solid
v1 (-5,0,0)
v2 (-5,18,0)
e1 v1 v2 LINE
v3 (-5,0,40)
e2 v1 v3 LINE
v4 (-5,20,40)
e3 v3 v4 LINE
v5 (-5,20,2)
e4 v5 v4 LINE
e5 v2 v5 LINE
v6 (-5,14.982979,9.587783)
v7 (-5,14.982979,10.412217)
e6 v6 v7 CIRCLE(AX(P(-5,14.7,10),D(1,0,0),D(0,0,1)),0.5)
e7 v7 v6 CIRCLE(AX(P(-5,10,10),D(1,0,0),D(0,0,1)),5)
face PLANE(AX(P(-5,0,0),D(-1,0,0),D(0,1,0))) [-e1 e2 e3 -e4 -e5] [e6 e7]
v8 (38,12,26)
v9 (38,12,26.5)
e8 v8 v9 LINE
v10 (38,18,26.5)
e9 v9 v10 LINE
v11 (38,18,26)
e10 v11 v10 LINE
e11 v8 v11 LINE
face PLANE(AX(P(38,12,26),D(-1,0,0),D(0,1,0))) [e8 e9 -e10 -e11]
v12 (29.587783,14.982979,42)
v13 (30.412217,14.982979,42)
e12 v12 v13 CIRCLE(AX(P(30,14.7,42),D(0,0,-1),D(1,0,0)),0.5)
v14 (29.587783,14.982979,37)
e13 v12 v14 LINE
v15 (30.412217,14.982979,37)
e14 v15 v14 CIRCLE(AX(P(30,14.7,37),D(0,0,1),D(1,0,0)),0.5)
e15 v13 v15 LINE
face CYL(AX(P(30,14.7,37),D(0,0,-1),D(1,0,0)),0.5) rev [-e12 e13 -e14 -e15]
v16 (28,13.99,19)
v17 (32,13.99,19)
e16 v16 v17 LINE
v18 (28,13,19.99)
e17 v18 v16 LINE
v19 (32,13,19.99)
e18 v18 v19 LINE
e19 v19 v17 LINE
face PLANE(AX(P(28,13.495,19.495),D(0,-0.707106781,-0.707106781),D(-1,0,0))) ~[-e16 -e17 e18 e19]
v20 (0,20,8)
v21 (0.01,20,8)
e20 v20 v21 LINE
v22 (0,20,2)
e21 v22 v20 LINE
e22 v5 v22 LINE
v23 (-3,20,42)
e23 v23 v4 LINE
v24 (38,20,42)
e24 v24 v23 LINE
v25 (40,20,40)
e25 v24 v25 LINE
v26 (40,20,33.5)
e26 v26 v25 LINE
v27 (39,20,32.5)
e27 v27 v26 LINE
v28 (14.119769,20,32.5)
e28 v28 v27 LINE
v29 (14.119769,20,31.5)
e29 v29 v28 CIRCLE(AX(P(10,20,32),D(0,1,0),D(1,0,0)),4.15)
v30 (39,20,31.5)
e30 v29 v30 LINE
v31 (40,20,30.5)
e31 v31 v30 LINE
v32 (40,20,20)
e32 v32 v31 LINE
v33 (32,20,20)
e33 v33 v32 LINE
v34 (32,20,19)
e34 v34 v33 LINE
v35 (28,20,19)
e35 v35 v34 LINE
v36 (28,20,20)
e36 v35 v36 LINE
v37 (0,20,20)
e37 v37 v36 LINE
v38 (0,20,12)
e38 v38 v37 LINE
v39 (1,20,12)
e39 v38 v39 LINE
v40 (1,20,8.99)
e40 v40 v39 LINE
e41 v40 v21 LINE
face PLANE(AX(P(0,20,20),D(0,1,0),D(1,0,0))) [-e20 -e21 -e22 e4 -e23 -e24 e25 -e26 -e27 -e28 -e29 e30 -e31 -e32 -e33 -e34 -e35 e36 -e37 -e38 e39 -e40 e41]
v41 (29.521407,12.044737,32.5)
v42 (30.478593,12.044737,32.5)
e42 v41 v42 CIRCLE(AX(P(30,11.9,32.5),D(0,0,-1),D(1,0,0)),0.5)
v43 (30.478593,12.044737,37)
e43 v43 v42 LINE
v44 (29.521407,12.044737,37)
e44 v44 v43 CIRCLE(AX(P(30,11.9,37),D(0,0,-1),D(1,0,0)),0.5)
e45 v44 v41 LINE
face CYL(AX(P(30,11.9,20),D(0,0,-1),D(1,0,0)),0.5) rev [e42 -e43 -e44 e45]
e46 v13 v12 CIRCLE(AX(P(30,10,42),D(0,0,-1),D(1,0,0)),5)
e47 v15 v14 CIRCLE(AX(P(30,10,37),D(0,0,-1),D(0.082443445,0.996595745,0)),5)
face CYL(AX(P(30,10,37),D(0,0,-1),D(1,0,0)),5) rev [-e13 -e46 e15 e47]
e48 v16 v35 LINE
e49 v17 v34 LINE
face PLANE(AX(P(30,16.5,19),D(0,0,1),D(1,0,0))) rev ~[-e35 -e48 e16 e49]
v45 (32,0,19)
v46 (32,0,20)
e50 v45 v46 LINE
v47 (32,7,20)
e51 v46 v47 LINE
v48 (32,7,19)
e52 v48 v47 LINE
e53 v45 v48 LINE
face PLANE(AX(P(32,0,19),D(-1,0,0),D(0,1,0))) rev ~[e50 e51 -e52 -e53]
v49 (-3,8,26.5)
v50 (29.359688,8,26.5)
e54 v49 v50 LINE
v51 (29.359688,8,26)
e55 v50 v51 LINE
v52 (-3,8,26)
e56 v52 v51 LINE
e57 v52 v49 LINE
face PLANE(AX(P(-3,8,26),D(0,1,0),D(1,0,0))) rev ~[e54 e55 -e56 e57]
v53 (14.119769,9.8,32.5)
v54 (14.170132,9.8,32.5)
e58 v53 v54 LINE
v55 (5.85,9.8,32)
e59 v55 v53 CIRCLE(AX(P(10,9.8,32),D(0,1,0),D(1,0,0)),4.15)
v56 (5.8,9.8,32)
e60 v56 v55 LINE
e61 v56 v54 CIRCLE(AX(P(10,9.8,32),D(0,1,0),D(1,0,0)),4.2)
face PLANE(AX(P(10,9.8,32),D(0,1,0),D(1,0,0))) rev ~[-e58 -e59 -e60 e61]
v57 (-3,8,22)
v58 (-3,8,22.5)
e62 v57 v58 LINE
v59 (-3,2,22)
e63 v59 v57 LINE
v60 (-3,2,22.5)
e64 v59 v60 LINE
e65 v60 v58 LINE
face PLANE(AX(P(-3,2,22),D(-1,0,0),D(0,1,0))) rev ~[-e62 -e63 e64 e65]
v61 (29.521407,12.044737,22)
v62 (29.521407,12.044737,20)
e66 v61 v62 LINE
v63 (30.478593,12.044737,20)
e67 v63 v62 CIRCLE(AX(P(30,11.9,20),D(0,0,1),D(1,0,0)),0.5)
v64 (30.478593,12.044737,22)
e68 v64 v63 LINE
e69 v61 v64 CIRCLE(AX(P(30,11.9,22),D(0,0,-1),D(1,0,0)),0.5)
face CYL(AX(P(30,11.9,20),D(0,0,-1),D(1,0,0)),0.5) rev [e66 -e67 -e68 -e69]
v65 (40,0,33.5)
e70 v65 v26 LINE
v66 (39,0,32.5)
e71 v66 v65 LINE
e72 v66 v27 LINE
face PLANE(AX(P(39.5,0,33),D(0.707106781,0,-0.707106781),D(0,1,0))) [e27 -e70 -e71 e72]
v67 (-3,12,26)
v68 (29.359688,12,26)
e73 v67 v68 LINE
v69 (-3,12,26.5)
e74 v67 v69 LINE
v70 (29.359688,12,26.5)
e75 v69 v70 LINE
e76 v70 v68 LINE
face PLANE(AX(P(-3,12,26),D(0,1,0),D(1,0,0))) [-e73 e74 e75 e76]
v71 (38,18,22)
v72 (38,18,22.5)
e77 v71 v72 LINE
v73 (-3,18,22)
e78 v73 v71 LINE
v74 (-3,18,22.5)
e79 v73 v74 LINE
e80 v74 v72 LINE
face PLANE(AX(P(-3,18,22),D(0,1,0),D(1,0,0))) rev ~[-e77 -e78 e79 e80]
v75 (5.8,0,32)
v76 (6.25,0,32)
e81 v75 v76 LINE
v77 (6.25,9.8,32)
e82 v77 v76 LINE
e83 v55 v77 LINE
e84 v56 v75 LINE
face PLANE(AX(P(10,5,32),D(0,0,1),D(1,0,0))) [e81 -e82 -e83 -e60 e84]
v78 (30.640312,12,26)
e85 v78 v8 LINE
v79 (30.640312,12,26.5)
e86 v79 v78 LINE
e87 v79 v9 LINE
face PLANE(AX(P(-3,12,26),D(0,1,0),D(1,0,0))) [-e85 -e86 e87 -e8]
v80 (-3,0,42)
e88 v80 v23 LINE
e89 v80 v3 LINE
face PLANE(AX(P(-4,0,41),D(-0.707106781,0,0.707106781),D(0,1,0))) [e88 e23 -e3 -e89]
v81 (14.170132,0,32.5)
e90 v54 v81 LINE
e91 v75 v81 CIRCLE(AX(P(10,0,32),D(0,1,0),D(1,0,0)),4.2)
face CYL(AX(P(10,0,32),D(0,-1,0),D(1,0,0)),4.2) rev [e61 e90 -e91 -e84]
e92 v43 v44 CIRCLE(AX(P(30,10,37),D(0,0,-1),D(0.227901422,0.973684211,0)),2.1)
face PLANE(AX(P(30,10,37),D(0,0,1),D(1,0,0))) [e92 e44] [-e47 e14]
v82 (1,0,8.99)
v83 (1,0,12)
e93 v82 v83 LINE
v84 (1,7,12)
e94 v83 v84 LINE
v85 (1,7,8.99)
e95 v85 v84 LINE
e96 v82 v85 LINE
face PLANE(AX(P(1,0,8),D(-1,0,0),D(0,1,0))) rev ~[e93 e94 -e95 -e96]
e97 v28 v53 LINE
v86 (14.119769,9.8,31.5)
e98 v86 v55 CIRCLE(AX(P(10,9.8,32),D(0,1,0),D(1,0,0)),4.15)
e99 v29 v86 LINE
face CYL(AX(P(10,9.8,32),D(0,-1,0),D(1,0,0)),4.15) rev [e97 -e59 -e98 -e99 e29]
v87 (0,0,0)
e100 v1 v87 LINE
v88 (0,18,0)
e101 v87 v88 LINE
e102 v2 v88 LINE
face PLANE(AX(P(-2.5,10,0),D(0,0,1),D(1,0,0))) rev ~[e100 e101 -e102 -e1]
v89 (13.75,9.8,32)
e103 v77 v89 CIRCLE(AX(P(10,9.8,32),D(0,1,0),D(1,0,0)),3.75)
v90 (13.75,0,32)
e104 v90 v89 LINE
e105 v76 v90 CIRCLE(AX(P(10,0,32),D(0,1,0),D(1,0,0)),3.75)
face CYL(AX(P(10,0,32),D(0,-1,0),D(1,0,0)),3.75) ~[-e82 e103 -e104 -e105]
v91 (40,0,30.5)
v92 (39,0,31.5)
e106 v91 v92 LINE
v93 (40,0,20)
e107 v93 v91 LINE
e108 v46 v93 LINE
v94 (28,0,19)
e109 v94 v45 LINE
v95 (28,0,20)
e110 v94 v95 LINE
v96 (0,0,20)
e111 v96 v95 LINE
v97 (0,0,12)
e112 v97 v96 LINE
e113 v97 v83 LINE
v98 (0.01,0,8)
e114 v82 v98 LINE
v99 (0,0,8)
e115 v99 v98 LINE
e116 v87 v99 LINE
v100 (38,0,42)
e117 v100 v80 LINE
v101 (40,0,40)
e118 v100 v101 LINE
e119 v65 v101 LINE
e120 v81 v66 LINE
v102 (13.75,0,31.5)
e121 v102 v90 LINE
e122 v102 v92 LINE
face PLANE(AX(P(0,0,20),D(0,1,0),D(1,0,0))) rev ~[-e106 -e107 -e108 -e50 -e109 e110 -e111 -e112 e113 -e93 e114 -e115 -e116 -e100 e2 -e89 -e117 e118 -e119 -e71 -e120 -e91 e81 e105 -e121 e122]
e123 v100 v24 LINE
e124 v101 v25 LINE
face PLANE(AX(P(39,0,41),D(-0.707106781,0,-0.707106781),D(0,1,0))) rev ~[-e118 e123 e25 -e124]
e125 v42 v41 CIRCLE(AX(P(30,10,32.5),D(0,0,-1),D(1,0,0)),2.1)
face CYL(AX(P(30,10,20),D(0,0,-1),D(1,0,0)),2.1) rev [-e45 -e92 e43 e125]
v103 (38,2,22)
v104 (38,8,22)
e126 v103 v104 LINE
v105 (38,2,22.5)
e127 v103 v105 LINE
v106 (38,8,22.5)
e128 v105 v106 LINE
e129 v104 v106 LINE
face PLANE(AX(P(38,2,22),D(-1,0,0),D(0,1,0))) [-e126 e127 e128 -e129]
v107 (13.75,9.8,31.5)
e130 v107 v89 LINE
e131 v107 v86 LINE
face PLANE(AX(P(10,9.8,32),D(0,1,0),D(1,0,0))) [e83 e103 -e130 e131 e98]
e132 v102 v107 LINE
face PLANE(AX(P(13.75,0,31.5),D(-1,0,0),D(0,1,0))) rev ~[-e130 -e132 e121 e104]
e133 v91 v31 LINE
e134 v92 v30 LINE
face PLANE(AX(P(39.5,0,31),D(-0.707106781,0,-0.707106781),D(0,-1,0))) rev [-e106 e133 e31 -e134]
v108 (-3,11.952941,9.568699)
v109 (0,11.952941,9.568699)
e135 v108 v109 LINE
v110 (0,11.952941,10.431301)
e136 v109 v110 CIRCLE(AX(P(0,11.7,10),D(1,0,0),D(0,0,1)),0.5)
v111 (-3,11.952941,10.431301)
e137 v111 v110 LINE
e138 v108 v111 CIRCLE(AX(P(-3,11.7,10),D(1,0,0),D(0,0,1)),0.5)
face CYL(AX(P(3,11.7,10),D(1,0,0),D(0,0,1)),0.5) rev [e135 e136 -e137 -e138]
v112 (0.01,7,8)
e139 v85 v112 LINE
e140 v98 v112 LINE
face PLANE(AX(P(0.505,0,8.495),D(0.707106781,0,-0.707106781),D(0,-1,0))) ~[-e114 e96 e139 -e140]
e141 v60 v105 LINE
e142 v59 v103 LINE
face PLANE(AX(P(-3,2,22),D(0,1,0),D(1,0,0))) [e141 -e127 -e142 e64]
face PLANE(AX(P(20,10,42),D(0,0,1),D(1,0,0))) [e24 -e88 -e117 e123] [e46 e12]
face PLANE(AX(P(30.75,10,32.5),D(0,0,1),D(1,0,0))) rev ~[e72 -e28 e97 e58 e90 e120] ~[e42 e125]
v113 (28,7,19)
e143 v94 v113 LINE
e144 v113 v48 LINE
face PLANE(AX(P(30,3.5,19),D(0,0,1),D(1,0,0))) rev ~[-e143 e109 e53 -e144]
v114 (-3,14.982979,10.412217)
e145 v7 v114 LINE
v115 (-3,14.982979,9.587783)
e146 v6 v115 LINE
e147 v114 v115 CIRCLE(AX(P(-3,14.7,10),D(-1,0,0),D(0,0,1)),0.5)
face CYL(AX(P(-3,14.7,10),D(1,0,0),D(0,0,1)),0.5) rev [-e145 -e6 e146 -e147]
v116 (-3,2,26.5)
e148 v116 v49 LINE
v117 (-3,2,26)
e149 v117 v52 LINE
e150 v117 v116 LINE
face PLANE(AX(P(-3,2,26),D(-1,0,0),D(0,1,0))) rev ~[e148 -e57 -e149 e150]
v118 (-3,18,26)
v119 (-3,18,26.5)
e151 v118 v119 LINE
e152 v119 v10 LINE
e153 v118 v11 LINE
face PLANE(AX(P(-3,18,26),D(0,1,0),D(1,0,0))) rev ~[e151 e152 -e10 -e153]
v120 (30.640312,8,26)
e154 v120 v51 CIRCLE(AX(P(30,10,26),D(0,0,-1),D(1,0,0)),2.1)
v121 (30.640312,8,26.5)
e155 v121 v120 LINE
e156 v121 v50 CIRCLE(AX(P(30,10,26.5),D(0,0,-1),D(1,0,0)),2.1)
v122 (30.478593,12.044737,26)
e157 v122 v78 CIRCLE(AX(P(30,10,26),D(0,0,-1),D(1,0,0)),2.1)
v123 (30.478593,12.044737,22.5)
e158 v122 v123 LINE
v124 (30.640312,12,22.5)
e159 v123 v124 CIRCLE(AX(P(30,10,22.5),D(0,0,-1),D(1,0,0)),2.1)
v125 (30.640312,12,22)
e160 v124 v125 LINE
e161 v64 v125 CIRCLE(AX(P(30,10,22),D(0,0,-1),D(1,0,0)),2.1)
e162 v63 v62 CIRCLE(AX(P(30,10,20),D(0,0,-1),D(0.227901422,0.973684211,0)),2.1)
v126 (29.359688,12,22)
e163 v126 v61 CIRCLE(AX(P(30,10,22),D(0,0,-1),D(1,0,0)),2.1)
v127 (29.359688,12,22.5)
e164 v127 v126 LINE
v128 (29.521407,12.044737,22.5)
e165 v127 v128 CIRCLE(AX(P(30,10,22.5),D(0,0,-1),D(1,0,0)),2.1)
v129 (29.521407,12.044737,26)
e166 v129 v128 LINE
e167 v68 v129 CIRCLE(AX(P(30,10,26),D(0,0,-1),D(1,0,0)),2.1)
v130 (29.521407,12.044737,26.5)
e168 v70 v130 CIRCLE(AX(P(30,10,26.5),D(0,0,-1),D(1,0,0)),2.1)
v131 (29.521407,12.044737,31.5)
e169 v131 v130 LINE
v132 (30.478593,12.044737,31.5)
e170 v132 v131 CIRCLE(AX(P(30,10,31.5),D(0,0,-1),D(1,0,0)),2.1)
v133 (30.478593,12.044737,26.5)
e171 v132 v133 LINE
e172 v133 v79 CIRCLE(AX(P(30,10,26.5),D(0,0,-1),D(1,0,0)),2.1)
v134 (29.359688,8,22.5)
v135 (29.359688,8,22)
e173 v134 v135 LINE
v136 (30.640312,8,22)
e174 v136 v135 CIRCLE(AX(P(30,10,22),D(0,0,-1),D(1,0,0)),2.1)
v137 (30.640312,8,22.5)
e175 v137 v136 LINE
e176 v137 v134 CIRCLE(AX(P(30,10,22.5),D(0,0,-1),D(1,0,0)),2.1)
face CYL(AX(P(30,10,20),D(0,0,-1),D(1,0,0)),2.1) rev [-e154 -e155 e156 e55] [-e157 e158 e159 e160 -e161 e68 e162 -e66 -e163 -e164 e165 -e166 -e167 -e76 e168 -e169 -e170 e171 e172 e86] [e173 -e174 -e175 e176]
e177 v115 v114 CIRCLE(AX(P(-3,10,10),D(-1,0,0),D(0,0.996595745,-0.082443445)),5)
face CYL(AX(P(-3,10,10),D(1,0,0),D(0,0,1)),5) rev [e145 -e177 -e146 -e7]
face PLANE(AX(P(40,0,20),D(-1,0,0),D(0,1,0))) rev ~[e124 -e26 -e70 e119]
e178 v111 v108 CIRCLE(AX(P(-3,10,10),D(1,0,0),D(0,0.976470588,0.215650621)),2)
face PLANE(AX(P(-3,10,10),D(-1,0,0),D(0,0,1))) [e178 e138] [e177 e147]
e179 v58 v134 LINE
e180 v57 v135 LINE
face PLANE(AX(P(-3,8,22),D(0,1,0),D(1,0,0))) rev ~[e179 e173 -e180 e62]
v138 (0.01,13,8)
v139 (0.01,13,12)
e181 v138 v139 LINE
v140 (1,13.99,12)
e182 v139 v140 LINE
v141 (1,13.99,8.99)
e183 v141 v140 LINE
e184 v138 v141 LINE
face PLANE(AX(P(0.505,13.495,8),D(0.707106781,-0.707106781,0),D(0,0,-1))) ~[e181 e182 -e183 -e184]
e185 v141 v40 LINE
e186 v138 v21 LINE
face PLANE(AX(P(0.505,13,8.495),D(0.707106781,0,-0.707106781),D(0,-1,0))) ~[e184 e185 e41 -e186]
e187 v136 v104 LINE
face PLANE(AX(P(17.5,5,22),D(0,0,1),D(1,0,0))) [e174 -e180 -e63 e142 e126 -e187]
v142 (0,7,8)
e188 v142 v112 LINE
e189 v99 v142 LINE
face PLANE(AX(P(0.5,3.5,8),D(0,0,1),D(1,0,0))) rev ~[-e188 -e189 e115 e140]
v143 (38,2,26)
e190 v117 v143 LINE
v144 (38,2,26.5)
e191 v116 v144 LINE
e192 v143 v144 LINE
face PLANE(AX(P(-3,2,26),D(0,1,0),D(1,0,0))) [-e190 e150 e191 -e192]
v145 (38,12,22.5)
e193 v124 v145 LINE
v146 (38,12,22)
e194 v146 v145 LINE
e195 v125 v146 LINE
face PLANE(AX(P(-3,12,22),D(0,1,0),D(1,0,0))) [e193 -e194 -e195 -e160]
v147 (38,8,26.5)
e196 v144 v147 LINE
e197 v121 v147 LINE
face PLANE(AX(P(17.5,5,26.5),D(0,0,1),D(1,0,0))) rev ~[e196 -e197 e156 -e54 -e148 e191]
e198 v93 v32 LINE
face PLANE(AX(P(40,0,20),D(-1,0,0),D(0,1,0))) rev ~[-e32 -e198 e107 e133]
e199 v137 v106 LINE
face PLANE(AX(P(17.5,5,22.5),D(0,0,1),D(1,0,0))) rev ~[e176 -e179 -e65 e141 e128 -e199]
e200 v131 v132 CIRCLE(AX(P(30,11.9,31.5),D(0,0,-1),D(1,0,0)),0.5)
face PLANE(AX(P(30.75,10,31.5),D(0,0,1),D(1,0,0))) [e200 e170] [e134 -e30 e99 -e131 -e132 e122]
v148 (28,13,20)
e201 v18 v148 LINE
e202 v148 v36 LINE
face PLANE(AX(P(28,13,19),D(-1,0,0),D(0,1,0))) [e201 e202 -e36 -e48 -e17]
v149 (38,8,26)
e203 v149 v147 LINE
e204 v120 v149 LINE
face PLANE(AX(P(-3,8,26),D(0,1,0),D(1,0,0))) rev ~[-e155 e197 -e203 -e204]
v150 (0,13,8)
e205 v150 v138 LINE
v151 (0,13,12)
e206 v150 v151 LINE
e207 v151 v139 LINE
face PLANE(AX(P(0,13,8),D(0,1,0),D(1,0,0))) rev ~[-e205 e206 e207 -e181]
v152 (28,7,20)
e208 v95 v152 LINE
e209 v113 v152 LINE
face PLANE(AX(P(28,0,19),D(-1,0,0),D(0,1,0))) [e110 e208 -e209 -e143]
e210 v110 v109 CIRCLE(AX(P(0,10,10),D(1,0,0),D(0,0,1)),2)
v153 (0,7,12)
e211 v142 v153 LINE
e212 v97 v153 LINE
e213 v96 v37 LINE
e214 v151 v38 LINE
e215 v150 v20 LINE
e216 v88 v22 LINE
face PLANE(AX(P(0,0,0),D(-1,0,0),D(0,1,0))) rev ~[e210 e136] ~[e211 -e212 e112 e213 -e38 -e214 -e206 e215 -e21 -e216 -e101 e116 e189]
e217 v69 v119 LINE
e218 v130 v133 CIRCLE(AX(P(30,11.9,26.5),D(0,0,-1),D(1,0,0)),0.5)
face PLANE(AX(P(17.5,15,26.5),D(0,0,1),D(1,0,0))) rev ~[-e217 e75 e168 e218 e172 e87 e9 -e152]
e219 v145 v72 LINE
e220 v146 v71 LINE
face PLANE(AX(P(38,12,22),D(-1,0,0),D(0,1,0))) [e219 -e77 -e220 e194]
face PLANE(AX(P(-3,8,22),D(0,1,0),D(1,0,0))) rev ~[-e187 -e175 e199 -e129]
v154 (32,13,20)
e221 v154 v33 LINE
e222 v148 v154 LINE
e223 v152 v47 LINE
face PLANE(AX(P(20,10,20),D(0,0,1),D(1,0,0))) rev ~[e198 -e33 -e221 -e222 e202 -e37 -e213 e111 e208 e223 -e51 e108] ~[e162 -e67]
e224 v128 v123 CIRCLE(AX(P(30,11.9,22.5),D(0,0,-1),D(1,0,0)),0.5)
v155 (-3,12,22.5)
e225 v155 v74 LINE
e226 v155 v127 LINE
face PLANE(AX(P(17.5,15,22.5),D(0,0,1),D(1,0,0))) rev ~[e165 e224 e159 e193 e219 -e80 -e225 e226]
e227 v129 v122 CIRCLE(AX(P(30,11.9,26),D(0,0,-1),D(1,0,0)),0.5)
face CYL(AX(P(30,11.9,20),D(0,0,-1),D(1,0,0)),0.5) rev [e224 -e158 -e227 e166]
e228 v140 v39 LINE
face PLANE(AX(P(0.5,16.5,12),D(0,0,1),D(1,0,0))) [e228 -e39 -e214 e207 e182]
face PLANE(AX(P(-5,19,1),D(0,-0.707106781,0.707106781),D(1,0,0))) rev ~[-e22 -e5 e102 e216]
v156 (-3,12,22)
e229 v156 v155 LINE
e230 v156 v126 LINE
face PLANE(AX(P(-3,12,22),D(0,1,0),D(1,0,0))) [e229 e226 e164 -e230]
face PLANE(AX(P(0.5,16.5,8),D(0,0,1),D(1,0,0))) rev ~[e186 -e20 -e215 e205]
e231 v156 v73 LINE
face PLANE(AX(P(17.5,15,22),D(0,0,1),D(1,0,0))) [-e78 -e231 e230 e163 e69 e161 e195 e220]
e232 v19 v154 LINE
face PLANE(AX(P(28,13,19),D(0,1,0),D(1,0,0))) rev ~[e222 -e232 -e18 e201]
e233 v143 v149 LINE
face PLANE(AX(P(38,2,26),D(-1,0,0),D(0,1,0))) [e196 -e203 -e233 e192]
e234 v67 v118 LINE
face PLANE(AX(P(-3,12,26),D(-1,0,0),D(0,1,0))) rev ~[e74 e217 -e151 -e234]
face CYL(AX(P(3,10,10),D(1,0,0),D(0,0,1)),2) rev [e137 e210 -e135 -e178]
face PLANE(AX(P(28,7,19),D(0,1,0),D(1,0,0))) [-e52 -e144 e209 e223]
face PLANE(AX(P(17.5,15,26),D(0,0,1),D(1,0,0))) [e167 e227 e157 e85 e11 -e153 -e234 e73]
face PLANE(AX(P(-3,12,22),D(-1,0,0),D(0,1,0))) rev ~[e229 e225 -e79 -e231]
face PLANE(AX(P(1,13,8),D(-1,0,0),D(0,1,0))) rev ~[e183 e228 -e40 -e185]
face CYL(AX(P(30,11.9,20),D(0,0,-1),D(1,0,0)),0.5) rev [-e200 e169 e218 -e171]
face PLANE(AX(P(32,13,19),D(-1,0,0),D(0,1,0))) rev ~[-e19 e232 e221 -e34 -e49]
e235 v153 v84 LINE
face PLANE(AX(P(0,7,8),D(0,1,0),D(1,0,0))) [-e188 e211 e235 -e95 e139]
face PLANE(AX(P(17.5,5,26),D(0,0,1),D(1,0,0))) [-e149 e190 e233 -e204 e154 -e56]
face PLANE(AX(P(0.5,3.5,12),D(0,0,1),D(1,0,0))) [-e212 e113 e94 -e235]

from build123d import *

# Parameters (mm, degrees)
BOX012_W          = 41
BOX012_H          = 6
BOX012_DEPTH      = 0.5
BOX015_W          = 41
BOX015_H          = 6
BOX015_DEPTH      = 0.5
BOX013_W          = 41
BOX013_H          = 6
BOX013_DEPTH      = 0.5
BOX010_W          = 41
BOX010_H          = 6
BOX010_DEPTH      = 0.5
BOX008_W          = 1
BOX008_H          = 7
BOX008_DEPTH      = 4
CHAMFER002_SIZE   = 0.99
BOX006_W          = 4
BOX006_H          = 7
BOX006_DEPTH      = 1
BOX007_W          = 4
BOX007_H          = 7
BOX007_DEPTH      = 1
CHAMFER_SIZE      = 0.99
BOX005_W          = 1
BOX005_H          = 7
BOX005_DEPTH      = 4
CHAMFER007_SIZE   = 0.99
CYLINDER007_R     = 0.5
CYLINDER007_DEPTH = 4
CYLINDER008_R     = 5
CYLINDER008_DEPTH = 4
CYLINDER009_R     = 2
CYLINDER009_DEPTH = 10
CYLINDER006_R     = 0.5
CYLINDER006_DEPTH = 10
CYLINDER002_R     = 2.1
CYLINDER002_DEPTH = 22
CYLINDER005_R     = 0.5
CYLINDER005_DEPTH = 10
CYLINDER004_R     = 0.5
CYLINDER004_DEPTH = 22
CYLINDER003_R     = 5
CYLINDER003_DEPTH = 10
BOX004_W          = 34
BOX004_H          = 20
BOX004_DEPTH      = 1
BOX009_W          = 10
BOX009_H          = 10
BOX009_DEPTH      = 10
CYLINDER011_R     = 3.75
CYLINDER011_DEPTH = 9.8
CYLINDER010_R     = 4.2
CYLINDER010_DEPTH = 9.8
CYLINDER001_R     = 4.15
CYLINDER001_DEPTH = 10.2
BOX001_W          = 40
BOX001_H          = 20
BOX001_DEPTH      = 22
BOX002_W          = 5
BOX002_H          = 20
BOX002_DEPTH      = 42
CHAMFER003_SIZE   = 1
CHAMFER004_SIZE   = 2
CHAMFER005_SIZE   = 2
CHAMFER006_SIZE   = 2


with BuildPart() as cube011:
    # Box012 → Box012 (new body)
    with BuildSketch(Plane(origin=(-3, 2, 26), x_dir=(1, 0, 0), z_dir=(0, 0, 1))):
        with Locations((20.5, 3)):
            Rectangle(BOX012_W, BOX012_H)
    extrude(amount=BOX012_DEPTH)


with BuildPart() as cube014:
    # Box015 → Box015 (new body)
    with BuildSketch(Plane(origin=(-3, 12, 26), x_dir=(1, 0, 0), z_dir=(0, 0, 1))):
        with Locations((20.5, 3)):
            Rectangle(BOX015_W, BOX015_H)
    extrude(amount=BOX015_DEPTH)


with BuildPart() as cube012:
    # Box013 → Box013 (new body)
    with BuildSketch(Plane(origin=(-3, 12, 22), x_dir=(1, 0, 0), z_dir=(0, 0, 1))):
        with Locations((20.5, 3)):
            Rectangle(BOX013_W, BOX013_H)
    extrude(amount=BOX013_DEPTH)


with BuildPart() as fusion006:
    # Box010 → Box010 (new body)
    with BuildSketch(Plane(origin=(-3, 2, 22), x_dir=(1, 0, 0), z_dir=(0, 0, 1))):
        with Locations((20.5, 3)):
            Rectangle(BOX010_W, BOX010_H)
    extrude(amount=BOX010_DEPTH)

    # Fusion006: union Cube011, Cube014, Cube012
    add(cube011.part)
    add(cube014.part)
    add(cube012.part)


with BuildPart() as chamfer002:
    # Box008 → Box008 (new body)
    with BuildSketch(Plane(origin=(0, 13, 8), x_dir=(1, 0, 0), z_dir=(0, 0, 1))):
        with Locations((0.5, 3.5)):
            Rectangle(BOX008_W, BOX008_H)
    extrude(amount=BOX008_DEPTH)

    # Chamfer002
    chamfer002_edges = [chamfer002.edges().sort_by_distance(p)[0] for p in [
        (1, 13, 10),
        (1, 16.5, 8),
    ]]
    chamfer(chamfer002_edges, length=CHAMFER002_SIZE)


with BuildPart() as cube005:
    # Box006 → Box006 (new body)
    with BuildSketch(Plane(origin=(28, 0, 19), x_dir=(1, 0, 0), z_dir=(0, 0, 1))):
        with Locations((2, 3.5)):
            Rectangle(BOX006_W, BOX006_H)
    extrude(amount=BOX006_DEPTH)


with BuildPart() as chamfer_body:
    # Box007 → Box007 (new body)
    with BuildSketch(Plane(origin=(28, 13, 19), x_dir=(1, 0, 0), z_dir=(0, 0, 1))):
        with Locations((2, 3.5)):
            Rectangle(BOX007_W, BOX007_H)
    extrude(amount=BOX007_DEPTH)

    # Chamfer
    chamfer_edges = [chamfer_body.edges().sort_by_distance(p)[0] for p in [
        (30, 13, 19),
    ]]
    chamfer(chamfer_edges, length=CHAMFER_SIZE)


with BuildPart() as fusion004:
    # Box005 → Box005 (new body)
    with BuildSketch(Plane.XY.offset(8)):
        with Locations((0.5, 3.5)):
            Rectangle(BOX005_W, BOX005_H)
    extrude(amount=BOX005_DEPTH)

    # Chamfer007
    chamfer007_edges = [fusion004.edges().sort_by_distance(p)[0] for p in [
        (1, 3.5, 8),
    ]]
    chamfer(chamfer007_edges, length=CHAMFER007_SIZE)

    # Fusion004: union Chamfer002, Cube005, Chamfer body
    add(chamfer002.part)
    add(cube005.part)
    add(chamfer_body.part)


with BuildPart() as cylinder005:
    # Cylinder007 → Cylinder007 (new body)
    with BuildSketch(Plane(origin=(-3, 14.7, 10), x_dir=(0, 0, 1), z_dir=(-1, 0, 0))):
        Circle(CYLINDER007_R)
    extrude(amount=CYLINDER007_DEPTH)


with BuildPart() as cylinder006:
    # Cylinder008 → Cylinder008 (new body)
    with BuildSketch(Plane(origin=(-3, 10, 10), x_dir=(0, 0, 1), z_dir=(-1, 0, 0))):
        Circle(CYLINDER008_R)
    extrude(amount=CYLINDER008_DEPTH)


with BuildPart() as cylinder007:
    # Cylinder009 → Cylinder009 (new body)
    with BuildSketch(Plane(origin=(3, 10, 10), x_dir=(0, 0, 1), z_dir=(-1, 0, 0))):
        Circle(CYLINDER009_R)
    extrude(amount=CYLINDER009_DEPTH)


with BuildPart() as fusion002:
    # Cylinder006 → Cylinder006 (new body)
    with BuildSketch(Plane(origin=(3, 11.7, 10), x_dir=(0, 0, 1), z_dir=(-1, 0, 0))):
        Circle(CYLINDER006_R)
    extrude(amount=CYLINDER006_DEPTH)

    # Fusion002: union Cylinder005, Cylinder006, Cylinder007
    add(cylinder005.part)
    add(cylinder006.part)
    add(cylinder007.part)


with BuildPart() as cylinder:
    # Cylinder002 → Cylinder002 (new body)
    with BuildSketch(Plane(origin=(30, 10, 20), x_dir=(1, 0, 0), z_dir=(0, 0, 1))):
        Circle(CYLINDER002_R)
    extrude(amount=CYLINDER002_DEPTH)


with BuildPart() as cylinder003:
    # Cylinder005 → Cylinder005 (new body)
    with BuildSketch(Plane(origin=(30, 14.7, 37), x_dir=(1, 0, 0), z_dir=(0, 0, 1))):
        Circle(CYLINDER005_R)
    extrude(amount=CYLINDER005_DEPTH)


with BuildPart() as cylinder002:
    # Cylinder004 → Cylinder004 (new body)
    with BuildSketch(Plane(origin=(30, 11.9, 20), x_dir=(1, 0, 0), z_dir=(0, 0, 1))):
        Circle(CYLINDER004_R)
    extrude(amount=CYLINDER004_DEPTH)


with BuildPart() as fusion003:
    # Cylinder003 → Cylinder003 (new body)
    with BuildSketch(Plane(origin=(30, 10, 37), x_dir=(1, 0, 0), z_dir=(0, 0, 1))):
        Circle(CYLINDER003_R)
    extrude(amount=CYLINDER003_DEPTH)

    # Fusion003: union Cylinder, Cylinder003, Cylinder002
    add(cylinder.part)
    add(cylinder003.part)
    add(cylinder002.part)


with BuildPart() as cube003:
    # Box004 → Box004 (new body)
    with BuildSketch(Plane(origin=(13.75, 0, 31.5), x_dir=(1, 0, 0), z_dir=(0, 0, 1))):
        with Locations((17, 10)):
            Rectangle(BOX004_W, BOX004_H)
    extrude(amount=BOX004_DEPTH)


with BuildPart() as cube008:
    # Box009 → Box009 (new body)
    with BuildSketch(Plane(origin=(5, 0, 22), x_dir=(1, 0, 0), z_dir=(0, 0, 1))):
        with Locations((5, 5)):
            Rectangle(BOX009_W, BOX009_H)
    extrude(amount=BOX009_DEPTH)


with BuildPart() as cylinder009:
    # Cylinder011 → Cylinder011 (new body)
    with BuildSketch(Plane(origin=(10, 0, 32), x_dir=(1, 0, 0), z_dir=(0, 1, 0))):
        Circle(CYLINDER011_R)
    extrude(amount=CYLINDER011_DEPTH)


with BuildPart() as cut001:
    # Cylinder010 → Cylinder010 (new body)
    with BuildSketch(Plane(origin=(10, 0, 32), x_dir=(1, 0, 0), z_dir=(0, 1, 0))):
        Circle(CYLINDER010_R)
    extrude(amount=CYLINDER010_DEPTH)

    # Cut: cut Cylinder009
    add(cylinder009.part, mode=Mode.SUBTRACT)

    # Cut001: cut Cube008
    add(cube008.part, mode=Mode.SUBTRACT)


with BuildPart() as slot:
    # Cylinder001 → Cylinder001 (new body)
    with BuildSketch(Plane(origin=(10, 9.8, 32), x_dir=(1, 0, 0), z_dir=(0, 1, 0))):
        Circle(CYLINDER001_R)
    extrude(amount=CYLINDER001_DEPTH)


with BuildPart() as cube:
    # Box001 → Box001 (new body)
    with BuildSketch(Plane.XY.offset(20)):
        with Locations((20, 10)):
            Rectangle(BOX001_W, BOX001_H)
    extrude(amount=BOX001_DEPTH)


with BuildPart() as cut007:
    # Box002 → Box002 (new body)
    with BuildSketch(Plane(origin=(-5, 0, 0), x_dir=(1, 0, 0), z_dir=(0, 0, 1))):
        with Locations((2.5, 10)):
            Rectangle(BOX002_W, BOX002_H)
    extrude(amount=BOX002_DEPTH)

    # Fusion: union Cube
    add(cube.part)

    # Cut002: cut slot
    add(slot.part, mode=Mode.SUBTRACT)

    # Cut003: cut Cut001
    add(cut001.part, mode=Mode.SUBTRACT)

    # Cut004: cut Cube003
    add(cube003.part, mode=Mode.SUBTRACT)

    # Cut005: cut Fusion003
    add(fusion003.part, mode=Mode.SUBTRACT)

    # Cut006: cut Fusion002
    add(fusion002.part, mode=Mode.SUBTRACT)

    # Chamfer003
    chamfer003_edges = [cut007.edges().sort_by_distance(p)[0] for p in [
        (40, 10, 31.5),
        (40, 10, 32.5),
    ]]
    chamfer(chamfer003_edges, length=CHAMFER003_SIZE)

    # Chamfer004
    chamfer004_edges = [cut007.edges().sort_by_distance(p)[0] for p in [
        (40, 10, 42),
    ]]
    chamfer(chamfer004_edges, length=CHAMFER004_SIZE)

    # Chamfer005
    chamfer005_edges = [cut007.edges().sort_by_distance(p)[0] for p in [
        (-5, 10, 42),
    ]]
    chamfer(chamfer005_edges, length=CHAMFER005_SIZE)

    # Chamfer006
    chamfer006_edges = [cut007.edges().sort_by_distance(p)[0] for p in [
        (-2.5, 20, 0),
    ]]
    chamfer(chamfer006_edges, length=CHAMFER006_SIZE)

    # Fusion005: union Fusion004
    add(fusion004.part)

    # Cut007: cut Fusion006
    add(fusion006.part, mode=Mode.SUBTRACT)


solid = cut007.part
